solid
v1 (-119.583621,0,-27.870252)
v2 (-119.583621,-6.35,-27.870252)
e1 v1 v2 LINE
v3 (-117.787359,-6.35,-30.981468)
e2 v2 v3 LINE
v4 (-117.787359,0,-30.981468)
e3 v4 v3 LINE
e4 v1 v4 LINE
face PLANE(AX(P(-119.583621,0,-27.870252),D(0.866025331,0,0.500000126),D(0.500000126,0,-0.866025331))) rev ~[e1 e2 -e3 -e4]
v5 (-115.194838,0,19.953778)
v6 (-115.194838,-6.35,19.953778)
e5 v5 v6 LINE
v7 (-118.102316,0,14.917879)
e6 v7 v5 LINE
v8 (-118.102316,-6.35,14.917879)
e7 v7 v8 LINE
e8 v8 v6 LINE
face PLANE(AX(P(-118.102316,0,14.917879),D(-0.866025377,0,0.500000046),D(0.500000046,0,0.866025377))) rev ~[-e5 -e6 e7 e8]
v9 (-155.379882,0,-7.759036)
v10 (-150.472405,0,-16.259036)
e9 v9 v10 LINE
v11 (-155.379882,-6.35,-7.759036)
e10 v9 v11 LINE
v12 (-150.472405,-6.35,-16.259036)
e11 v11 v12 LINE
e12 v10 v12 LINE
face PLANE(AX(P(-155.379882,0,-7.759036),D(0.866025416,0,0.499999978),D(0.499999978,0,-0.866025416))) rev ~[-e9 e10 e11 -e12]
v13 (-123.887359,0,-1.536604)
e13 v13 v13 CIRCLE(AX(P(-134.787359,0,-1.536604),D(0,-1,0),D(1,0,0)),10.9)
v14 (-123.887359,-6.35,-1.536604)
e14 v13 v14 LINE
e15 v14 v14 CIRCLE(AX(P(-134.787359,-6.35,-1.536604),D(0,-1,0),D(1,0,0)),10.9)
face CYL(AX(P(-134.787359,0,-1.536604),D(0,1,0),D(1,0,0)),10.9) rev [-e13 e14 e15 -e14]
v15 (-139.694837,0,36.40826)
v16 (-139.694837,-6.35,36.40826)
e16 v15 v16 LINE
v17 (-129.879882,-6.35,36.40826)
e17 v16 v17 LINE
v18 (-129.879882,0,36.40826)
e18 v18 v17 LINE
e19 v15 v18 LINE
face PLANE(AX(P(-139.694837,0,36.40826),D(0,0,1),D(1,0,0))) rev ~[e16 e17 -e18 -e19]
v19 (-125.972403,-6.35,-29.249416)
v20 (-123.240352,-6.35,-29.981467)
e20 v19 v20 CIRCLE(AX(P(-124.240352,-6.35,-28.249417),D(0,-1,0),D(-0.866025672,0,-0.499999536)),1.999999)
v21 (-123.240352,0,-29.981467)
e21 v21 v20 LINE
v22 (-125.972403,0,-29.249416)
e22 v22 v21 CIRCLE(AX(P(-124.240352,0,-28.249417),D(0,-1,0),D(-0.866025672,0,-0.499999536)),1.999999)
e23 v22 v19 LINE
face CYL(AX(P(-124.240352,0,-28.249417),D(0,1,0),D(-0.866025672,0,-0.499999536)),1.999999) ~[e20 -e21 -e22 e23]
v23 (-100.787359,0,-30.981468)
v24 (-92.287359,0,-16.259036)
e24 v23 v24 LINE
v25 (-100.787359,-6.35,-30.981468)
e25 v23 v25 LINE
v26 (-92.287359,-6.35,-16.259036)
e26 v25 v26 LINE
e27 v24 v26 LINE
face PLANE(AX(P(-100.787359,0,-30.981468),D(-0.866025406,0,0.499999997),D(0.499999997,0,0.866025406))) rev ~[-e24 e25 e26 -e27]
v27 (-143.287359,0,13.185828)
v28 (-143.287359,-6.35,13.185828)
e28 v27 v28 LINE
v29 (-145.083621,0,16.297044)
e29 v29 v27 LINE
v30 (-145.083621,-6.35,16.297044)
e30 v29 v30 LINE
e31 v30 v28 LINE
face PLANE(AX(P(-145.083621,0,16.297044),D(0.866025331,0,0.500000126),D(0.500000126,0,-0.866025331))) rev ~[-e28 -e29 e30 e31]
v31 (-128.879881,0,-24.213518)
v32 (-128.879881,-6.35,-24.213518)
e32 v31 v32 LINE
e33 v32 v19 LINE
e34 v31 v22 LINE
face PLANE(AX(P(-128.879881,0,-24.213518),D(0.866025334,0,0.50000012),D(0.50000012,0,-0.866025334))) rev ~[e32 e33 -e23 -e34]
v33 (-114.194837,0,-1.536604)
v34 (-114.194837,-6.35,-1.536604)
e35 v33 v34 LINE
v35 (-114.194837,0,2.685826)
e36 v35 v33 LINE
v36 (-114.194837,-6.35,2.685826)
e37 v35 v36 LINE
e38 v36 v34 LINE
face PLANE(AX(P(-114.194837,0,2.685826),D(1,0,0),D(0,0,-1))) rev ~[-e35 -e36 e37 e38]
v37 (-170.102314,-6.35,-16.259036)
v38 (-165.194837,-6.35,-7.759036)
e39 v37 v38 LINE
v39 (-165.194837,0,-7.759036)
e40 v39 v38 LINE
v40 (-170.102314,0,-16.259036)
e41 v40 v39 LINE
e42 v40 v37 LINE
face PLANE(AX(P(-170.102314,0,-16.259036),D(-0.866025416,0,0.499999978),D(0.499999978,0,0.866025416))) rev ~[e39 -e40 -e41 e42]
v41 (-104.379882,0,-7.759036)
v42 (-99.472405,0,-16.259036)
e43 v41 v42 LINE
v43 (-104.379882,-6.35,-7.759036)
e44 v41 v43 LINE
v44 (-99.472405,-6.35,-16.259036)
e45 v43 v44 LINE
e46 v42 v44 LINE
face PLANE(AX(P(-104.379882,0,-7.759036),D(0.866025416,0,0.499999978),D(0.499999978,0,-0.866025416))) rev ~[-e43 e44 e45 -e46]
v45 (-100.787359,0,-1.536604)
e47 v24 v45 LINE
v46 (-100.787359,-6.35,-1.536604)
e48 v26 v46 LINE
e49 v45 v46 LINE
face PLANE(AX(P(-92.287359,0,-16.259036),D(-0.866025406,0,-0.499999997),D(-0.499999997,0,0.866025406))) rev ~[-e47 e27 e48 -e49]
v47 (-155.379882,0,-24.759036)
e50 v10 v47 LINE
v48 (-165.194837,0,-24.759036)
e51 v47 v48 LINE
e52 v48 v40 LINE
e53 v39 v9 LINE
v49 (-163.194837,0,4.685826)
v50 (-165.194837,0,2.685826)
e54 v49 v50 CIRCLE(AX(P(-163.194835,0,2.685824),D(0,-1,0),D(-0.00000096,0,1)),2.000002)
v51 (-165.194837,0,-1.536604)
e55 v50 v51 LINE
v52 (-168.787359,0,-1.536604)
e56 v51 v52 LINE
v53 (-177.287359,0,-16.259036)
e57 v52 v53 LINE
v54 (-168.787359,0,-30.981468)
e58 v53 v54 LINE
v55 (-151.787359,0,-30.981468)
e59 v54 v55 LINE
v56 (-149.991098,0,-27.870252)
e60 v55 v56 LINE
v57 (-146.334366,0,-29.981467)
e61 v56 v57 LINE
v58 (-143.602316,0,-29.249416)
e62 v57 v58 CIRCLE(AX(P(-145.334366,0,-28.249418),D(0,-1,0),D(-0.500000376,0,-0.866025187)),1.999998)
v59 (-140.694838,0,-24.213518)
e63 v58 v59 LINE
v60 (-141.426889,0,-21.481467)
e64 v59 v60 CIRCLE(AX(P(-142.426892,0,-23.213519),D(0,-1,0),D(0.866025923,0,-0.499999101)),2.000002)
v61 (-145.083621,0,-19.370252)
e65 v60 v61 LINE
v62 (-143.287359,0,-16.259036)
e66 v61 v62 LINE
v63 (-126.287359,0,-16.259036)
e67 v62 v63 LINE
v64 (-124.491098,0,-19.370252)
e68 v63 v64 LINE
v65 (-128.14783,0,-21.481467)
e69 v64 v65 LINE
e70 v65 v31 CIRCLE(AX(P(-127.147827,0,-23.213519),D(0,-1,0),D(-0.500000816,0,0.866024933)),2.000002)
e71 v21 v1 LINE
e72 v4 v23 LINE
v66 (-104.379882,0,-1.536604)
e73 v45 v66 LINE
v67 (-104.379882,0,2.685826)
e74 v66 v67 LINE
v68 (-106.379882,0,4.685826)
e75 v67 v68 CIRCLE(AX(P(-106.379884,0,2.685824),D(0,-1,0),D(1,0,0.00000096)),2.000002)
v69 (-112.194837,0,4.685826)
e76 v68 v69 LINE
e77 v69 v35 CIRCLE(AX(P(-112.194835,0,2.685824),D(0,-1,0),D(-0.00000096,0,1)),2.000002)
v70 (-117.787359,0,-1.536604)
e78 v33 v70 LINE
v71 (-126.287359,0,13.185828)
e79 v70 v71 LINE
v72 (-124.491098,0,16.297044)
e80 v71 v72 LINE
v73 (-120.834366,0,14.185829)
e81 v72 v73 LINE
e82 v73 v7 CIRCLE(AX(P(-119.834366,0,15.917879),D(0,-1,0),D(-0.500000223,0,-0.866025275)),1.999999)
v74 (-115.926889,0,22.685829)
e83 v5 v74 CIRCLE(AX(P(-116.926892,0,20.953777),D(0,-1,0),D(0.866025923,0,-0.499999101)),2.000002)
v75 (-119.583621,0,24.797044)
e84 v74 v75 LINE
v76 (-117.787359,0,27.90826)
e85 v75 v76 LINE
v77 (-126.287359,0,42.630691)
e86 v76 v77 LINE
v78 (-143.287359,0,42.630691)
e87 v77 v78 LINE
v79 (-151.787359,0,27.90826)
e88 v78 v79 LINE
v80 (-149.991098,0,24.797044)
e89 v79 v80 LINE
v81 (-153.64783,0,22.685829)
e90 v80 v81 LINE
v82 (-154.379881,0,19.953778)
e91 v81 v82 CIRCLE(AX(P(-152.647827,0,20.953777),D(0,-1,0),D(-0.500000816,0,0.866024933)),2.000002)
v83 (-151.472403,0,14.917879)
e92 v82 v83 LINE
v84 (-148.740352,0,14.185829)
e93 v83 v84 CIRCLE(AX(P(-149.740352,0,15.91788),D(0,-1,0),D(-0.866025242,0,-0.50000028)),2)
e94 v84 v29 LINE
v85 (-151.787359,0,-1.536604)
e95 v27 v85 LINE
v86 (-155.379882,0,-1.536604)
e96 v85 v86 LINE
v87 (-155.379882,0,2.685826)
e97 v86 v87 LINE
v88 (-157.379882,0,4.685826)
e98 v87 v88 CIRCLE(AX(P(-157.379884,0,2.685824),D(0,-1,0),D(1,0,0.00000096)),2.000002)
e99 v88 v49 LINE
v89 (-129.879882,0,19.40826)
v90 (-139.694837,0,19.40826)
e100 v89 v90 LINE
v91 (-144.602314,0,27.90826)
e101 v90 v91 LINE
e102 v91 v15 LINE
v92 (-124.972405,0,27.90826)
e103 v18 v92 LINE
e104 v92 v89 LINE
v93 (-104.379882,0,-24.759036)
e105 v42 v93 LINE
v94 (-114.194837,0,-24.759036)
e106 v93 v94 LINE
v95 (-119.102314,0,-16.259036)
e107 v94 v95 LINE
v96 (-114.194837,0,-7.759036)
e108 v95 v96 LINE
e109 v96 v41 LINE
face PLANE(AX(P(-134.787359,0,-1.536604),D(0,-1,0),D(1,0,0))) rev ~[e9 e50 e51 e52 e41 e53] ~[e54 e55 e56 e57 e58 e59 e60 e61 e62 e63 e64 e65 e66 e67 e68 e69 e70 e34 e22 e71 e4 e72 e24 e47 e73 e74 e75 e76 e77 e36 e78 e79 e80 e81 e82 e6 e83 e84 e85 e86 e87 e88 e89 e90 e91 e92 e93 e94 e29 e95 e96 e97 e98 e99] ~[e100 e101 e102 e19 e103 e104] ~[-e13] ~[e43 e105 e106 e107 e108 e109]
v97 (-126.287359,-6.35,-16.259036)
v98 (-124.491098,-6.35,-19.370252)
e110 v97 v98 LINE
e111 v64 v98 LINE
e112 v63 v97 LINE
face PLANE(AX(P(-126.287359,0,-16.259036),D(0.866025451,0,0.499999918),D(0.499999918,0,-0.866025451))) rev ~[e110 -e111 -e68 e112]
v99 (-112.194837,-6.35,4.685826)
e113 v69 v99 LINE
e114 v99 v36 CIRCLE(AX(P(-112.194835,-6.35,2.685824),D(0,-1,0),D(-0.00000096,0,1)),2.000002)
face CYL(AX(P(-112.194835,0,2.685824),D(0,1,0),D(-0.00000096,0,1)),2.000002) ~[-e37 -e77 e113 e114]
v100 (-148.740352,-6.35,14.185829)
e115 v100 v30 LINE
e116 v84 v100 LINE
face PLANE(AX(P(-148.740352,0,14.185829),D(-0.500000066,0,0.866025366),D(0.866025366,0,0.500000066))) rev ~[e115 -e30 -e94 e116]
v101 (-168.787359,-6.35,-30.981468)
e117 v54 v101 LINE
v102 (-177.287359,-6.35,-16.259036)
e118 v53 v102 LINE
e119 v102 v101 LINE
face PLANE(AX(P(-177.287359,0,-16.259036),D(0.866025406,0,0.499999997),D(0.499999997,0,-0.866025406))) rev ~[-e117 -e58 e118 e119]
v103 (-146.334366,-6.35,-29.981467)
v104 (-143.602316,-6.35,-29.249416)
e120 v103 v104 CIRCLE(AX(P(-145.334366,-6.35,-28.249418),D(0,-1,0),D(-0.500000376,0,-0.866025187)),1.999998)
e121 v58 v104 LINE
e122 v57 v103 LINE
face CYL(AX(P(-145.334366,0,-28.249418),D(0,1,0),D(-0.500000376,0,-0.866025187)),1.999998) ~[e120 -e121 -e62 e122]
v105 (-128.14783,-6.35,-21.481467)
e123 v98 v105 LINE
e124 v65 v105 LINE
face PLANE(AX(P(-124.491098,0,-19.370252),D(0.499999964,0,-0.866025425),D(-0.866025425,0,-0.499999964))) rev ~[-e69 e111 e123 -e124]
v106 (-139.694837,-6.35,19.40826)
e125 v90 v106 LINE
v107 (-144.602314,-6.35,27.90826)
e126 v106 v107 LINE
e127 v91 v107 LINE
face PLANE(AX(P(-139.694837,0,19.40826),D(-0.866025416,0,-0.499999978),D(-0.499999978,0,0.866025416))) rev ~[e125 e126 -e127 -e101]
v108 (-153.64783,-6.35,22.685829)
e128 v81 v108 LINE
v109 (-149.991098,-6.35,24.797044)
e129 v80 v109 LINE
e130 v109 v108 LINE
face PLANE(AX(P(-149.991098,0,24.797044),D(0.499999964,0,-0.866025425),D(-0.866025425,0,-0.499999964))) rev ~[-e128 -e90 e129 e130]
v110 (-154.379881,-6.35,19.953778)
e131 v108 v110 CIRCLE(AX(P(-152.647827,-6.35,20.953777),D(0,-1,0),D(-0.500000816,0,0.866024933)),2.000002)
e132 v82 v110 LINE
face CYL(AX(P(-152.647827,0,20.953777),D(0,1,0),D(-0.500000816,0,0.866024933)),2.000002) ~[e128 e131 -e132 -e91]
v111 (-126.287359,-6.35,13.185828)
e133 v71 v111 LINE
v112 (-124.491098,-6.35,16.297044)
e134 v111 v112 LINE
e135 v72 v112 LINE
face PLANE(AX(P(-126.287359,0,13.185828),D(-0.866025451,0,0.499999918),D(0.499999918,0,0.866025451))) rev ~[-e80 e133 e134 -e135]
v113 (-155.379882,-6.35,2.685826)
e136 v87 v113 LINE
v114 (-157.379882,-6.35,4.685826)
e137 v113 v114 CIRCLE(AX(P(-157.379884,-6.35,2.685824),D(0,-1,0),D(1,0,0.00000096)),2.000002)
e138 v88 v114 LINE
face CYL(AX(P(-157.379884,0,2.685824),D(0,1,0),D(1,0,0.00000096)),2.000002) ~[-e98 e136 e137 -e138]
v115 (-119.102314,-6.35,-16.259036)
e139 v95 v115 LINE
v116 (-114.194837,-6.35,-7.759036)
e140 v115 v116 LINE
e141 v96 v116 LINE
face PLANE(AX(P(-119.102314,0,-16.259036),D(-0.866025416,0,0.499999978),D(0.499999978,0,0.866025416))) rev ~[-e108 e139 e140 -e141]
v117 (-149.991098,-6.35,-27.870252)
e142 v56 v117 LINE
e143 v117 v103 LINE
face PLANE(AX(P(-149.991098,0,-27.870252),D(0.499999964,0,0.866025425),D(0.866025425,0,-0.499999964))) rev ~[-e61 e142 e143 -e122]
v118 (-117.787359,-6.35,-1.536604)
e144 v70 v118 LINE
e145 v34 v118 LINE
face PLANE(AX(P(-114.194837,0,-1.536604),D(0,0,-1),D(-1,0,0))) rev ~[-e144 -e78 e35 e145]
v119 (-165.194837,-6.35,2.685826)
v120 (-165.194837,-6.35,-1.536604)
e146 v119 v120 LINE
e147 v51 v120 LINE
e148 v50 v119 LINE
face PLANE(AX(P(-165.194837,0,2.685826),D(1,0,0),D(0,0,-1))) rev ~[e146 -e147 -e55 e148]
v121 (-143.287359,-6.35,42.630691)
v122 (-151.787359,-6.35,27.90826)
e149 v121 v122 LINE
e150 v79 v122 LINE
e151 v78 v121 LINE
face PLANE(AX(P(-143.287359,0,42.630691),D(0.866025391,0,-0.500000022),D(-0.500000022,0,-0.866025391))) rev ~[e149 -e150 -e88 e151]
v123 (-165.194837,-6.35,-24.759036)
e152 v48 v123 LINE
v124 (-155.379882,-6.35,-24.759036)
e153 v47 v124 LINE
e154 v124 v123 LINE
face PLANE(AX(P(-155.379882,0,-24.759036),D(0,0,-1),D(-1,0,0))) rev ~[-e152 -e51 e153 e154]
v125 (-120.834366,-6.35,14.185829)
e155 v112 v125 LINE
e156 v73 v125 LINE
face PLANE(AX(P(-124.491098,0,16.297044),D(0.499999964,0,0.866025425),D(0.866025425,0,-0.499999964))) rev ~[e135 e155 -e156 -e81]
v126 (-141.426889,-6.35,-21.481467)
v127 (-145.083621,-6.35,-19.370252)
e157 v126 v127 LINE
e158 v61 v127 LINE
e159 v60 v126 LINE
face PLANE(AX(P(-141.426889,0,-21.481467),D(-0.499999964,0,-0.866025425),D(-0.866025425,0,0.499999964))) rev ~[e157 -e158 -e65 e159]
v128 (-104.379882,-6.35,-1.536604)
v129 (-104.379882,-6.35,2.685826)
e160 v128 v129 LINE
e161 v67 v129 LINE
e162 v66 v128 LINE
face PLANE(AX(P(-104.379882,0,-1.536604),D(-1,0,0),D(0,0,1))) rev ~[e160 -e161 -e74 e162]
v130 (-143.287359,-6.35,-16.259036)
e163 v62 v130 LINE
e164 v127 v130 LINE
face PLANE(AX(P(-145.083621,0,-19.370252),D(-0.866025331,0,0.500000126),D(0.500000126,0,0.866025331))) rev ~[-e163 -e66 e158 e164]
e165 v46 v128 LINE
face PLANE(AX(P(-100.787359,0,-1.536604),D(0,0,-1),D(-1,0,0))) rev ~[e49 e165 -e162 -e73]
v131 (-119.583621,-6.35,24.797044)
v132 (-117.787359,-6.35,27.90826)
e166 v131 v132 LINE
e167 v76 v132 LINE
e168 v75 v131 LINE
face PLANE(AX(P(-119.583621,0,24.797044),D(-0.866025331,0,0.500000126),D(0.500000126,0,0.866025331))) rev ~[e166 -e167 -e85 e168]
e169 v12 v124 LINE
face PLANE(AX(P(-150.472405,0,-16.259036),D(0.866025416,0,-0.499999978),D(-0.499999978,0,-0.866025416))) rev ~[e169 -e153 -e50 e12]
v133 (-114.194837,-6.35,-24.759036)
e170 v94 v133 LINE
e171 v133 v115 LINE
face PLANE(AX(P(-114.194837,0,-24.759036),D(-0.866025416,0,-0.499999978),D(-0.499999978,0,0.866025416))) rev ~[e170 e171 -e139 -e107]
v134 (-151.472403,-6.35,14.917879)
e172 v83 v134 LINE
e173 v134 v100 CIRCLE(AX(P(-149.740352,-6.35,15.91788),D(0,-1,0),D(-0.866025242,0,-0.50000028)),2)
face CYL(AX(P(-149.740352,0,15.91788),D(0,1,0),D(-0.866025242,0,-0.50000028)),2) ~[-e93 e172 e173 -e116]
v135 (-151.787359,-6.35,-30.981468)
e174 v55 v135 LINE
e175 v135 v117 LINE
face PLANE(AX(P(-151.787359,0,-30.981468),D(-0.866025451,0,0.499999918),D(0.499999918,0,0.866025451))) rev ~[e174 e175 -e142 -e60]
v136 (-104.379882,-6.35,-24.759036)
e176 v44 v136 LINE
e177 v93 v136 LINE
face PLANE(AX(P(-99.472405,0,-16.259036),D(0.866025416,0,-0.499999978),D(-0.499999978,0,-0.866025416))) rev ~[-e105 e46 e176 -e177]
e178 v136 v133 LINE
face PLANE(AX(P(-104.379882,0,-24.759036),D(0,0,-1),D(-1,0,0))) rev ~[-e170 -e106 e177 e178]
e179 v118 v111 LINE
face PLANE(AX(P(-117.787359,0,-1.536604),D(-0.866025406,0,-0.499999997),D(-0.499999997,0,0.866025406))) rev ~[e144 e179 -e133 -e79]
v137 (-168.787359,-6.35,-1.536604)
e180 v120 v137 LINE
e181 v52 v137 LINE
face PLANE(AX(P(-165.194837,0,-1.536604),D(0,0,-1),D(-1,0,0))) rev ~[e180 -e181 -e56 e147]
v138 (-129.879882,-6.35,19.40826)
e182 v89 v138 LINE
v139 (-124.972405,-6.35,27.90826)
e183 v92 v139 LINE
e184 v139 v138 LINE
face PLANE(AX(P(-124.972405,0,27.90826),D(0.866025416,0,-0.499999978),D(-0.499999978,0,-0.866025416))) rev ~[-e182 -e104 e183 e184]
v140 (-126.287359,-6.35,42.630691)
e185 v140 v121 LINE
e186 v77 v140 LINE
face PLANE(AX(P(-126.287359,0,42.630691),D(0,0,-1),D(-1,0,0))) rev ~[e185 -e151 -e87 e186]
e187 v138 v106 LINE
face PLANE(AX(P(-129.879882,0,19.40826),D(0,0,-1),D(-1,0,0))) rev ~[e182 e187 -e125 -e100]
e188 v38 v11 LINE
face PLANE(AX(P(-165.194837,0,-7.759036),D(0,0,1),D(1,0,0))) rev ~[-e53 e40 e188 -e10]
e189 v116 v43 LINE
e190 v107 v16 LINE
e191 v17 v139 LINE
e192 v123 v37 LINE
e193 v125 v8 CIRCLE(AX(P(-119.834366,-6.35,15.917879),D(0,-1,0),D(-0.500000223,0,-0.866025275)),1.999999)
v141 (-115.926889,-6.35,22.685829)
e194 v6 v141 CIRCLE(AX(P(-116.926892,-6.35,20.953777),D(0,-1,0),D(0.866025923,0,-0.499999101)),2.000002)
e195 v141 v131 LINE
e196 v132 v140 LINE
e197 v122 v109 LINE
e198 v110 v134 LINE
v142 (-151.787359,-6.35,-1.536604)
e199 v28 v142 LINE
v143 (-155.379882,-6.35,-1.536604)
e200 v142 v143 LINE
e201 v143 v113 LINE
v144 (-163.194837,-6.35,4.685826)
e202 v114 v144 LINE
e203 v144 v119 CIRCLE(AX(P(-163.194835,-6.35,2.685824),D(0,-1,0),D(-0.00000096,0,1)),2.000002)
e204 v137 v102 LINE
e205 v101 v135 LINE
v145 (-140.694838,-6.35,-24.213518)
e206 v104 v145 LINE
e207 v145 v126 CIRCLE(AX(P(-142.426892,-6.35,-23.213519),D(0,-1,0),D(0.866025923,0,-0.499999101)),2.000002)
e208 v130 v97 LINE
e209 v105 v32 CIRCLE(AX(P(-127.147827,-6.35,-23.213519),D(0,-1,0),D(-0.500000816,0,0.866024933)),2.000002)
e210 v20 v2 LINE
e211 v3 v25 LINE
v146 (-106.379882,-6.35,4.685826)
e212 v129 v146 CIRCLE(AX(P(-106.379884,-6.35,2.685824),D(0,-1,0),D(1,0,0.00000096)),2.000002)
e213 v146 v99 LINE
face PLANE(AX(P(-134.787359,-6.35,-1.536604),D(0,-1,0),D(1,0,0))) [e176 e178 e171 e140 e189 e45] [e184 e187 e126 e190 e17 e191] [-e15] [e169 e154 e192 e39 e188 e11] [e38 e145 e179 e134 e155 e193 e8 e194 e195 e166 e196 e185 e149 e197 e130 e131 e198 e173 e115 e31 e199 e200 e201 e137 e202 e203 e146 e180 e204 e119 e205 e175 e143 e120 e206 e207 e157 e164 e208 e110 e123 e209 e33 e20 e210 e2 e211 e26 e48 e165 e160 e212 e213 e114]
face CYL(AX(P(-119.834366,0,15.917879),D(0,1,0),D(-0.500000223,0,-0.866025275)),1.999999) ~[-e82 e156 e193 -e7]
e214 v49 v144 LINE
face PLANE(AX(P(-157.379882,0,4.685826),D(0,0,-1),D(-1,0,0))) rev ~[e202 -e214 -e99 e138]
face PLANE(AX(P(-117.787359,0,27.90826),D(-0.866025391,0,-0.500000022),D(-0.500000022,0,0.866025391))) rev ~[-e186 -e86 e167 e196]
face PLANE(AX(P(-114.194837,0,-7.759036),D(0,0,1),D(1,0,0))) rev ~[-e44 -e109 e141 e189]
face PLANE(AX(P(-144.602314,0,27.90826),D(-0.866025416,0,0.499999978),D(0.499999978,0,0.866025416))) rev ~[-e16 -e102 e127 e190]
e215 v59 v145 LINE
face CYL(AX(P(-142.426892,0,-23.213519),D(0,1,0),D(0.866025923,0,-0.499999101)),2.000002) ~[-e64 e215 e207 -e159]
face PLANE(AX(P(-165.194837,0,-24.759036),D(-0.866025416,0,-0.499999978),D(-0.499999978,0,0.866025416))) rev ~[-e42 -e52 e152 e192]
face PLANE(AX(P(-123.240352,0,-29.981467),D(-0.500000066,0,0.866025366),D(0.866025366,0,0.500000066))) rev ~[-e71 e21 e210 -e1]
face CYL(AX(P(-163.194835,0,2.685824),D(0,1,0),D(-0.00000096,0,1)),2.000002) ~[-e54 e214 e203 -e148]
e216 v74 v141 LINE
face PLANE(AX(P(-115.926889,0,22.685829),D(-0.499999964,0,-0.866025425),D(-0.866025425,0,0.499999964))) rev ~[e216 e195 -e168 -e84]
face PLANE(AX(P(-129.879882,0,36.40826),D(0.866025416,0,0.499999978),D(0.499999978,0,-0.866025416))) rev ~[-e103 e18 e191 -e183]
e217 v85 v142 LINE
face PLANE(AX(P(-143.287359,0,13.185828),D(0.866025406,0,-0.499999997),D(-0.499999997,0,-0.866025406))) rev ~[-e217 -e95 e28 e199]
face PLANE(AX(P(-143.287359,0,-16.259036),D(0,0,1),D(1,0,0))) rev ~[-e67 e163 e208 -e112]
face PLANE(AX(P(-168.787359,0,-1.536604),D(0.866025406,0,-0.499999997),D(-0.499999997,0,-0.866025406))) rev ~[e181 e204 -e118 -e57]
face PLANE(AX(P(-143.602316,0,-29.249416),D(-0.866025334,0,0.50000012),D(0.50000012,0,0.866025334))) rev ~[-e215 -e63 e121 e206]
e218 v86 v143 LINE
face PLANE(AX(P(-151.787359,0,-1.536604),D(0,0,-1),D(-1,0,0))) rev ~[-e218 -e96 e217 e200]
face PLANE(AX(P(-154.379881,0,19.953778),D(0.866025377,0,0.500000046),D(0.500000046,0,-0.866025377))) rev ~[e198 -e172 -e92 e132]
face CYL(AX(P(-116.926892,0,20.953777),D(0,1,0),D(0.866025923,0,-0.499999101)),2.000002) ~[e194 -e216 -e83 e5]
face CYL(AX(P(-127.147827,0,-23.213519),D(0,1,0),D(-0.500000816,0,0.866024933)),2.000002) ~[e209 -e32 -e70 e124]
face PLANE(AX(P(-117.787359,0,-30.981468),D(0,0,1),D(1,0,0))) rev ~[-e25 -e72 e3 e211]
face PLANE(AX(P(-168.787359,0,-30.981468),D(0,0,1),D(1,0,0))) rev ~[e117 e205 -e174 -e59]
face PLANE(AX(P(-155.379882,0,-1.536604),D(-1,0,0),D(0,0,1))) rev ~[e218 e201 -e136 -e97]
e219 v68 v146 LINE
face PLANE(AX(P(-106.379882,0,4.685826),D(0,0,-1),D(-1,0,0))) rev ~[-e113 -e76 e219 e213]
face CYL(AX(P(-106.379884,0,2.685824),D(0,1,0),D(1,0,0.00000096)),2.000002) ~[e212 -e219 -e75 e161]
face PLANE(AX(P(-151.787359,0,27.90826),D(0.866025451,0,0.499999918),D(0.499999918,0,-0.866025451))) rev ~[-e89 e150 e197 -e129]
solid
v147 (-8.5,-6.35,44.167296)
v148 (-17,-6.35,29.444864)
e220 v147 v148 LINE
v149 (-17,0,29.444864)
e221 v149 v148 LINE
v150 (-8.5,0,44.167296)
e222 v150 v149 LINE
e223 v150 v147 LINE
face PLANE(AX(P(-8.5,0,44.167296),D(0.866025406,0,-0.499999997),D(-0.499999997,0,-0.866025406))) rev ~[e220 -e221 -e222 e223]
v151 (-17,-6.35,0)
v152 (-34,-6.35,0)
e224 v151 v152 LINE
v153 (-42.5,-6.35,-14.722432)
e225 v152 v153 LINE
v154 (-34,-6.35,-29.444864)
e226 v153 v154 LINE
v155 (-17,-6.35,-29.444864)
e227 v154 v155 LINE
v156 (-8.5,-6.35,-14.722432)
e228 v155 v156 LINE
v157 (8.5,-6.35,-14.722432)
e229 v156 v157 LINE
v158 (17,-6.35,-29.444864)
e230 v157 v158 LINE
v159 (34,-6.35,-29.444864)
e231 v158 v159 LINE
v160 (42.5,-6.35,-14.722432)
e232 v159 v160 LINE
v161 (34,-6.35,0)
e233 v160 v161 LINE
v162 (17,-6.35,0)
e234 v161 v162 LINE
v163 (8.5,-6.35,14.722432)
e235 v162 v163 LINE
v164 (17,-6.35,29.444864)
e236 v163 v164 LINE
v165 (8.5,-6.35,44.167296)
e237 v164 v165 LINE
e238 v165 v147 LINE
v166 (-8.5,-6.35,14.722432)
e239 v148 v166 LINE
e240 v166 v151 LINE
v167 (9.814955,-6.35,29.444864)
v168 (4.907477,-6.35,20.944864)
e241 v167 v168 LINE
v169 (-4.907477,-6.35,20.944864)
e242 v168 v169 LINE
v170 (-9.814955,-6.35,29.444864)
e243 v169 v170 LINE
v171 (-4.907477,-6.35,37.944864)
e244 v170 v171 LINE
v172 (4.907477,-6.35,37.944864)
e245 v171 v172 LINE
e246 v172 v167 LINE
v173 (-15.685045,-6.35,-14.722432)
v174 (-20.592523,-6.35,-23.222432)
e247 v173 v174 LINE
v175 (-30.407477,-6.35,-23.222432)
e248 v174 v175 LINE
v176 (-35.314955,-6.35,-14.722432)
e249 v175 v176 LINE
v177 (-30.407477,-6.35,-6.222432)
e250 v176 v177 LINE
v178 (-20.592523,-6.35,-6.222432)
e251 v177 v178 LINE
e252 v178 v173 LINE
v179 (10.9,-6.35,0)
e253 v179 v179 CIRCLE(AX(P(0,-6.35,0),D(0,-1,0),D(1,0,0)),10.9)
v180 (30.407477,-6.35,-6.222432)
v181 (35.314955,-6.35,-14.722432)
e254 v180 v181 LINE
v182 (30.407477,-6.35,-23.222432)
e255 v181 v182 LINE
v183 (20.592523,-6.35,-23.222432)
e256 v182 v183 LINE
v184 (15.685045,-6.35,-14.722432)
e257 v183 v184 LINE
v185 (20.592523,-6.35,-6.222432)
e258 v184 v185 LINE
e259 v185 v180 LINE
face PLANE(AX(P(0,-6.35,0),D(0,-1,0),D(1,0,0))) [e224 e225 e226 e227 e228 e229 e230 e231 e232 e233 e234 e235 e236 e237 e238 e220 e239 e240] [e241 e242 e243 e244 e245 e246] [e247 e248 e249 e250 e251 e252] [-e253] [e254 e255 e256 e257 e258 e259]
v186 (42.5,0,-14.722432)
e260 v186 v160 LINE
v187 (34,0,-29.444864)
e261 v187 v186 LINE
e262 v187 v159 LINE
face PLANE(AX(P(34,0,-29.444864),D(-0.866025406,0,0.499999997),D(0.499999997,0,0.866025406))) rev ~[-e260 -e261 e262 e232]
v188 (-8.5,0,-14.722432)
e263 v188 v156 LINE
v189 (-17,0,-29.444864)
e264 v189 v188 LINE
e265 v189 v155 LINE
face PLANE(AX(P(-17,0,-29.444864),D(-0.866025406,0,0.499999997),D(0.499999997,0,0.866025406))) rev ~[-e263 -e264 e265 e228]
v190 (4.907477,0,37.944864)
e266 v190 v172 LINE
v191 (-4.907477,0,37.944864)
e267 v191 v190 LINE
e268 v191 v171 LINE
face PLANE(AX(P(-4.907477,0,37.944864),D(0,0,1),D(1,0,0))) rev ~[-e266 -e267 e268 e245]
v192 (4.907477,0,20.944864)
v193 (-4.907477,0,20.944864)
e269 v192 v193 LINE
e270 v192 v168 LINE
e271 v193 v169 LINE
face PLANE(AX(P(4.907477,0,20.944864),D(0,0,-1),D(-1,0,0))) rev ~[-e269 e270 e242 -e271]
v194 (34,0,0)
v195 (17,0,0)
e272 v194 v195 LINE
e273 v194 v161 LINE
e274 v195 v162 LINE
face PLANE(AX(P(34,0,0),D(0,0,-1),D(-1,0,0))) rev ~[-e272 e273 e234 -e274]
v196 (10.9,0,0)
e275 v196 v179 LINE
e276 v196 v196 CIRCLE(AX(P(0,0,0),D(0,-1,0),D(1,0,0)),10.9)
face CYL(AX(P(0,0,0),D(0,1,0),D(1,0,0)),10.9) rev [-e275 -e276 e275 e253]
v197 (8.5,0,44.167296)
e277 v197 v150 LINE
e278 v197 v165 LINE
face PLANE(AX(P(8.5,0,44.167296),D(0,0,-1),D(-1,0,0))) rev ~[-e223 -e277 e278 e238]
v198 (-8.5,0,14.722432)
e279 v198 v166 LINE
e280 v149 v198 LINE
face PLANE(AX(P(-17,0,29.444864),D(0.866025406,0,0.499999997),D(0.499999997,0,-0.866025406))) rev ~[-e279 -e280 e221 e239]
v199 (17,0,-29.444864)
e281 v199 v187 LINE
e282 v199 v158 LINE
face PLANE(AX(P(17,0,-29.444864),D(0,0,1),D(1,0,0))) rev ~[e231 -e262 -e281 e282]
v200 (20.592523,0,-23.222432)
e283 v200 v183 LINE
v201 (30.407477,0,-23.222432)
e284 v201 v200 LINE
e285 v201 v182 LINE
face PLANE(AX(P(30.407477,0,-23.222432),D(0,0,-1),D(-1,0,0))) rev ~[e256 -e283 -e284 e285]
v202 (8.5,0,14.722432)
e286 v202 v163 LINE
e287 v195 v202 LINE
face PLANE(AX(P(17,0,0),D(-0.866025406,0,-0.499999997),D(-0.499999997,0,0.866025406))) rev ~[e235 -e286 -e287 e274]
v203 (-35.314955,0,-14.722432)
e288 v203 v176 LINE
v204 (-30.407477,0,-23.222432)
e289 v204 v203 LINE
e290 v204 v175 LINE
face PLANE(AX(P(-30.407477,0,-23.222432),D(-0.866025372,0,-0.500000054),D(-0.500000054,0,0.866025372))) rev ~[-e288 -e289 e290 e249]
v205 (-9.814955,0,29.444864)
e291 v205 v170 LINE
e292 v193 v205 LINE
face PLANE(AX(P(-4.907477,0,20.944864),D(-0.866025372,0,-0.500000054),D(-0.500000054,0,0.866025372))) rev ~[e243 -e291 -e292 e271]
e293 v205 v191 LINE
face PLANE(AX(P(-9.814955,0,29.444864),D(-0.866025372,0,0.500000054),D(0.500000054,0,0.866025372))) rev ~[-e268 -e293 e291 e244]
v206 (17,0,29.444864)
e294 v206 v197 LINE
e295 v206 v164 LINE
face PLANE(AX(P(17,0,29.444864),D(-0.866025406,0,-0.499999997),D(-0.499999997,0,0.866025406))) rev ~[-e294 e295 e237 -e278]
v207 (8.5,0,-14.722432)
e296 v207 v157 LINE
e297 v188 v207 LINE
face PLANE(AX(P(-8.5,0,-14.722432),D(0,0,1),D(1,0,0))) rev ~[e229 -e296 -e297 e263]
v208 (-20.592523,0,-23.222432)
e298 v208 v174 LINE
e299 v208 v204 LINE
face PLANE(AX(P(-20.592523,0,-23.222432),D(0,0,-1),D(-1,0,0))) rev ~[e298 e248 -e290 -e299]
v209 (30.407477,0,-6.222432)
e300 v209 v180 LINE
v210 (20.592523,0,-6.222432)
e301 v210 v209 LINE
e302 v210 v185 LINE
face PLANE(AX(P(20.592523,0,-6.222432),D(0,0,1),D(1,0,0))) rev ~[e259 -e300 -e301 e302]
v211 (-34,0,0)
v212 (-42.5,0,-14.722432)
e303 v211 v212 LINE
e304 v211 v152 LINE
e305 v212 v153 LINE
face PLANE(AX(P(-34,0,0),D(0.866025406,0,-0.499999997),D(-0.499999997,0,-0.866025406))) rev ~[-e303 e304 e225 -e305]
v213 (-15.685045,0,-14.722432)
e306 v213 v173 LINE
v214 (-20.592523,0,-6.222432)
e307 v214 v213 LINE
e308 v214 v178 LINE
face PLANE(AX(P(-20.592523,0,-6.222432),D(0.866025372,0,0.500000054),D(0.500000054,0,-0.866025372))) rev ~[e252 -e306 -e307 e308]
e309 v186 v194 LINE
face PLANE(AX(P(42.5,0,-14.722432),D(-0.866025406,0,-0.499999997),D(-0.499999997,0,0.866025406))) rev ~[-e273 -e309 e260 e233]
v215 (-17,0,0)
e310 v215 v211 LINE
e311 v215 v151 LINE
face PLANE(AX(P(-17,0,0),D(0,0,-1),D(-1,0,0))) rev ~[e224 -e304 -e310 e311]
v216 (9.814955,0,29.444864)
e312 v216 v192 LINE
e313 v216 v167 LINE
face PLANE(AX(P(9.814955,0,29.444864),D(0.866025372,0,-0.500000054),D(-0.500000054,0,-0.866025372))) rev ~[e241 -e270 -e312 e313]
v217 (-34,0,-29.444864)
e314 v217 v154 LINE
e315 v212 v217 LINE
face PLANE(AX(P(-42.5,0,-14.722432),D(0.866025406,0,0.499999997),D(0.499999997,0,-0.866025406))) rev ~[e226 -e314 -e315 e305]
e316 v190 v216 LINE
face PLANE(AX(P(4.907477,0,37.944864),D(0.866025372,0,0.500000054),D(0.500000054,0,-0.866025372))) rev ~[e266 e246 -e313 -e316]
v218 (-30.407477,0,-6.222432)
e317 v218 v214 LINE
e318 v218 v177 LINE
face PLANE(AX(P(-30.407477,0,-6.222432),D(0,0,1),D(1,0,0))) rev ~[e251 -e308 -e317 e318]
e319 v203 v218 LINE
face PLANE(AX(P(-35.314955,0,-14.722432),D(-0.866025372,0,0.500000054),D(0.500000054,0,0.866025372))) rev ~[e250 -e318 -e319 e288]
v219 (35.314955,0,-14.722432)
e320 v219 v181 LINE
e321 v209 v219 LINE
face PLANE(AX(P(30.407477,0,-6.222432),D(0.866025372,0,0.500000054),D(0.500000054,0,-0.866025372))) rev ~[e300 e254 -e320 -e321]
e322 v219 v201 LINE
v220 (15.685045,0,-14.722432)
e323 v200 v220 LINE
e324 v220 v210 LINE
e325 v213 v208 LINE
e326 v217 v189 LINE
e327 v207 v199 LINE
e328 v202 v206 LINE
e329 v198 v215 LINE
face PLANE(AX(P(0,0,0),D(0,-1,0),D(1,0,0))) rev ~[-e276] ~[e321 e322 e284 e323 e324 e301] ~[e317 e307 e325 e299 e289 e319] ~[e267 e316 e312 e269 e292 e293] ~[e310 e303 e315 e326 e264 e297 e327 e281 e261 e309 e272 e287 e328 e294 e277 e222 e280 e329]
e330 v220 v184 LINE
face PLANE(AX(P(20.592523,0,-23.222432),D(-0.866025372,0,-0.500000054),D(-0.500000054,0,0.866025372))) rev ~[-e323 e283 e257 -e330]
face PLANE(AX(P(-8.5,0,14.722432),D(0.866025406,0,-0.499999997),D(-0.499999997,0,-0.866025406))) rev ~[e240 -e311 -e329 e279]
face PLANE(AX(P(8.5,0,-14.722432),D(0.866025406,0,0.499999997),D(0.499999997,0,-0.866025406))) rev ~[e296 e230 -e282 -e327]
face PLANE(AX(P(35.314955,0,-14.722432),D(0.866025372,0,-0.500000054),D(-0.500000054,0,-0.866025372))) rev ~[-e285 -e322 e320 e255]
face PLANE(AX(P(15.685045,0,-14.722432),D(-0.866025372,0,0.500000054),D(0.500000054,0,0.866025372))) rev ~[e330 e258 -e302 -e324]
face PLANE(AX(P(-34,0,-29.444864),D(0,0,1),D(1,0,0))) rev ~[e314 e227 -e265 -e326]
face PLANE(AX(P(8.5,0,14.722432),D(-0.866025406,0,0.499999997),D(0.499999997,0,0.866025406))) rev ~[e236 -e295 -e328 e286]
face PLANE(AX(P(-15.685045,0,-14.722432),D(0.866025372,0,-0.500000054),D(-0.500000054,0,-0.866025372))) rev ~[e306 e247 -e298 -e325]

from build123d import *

# Parameters (mm, degrees)
F0_R     = 10.9
F1_DEPTH = 6.35
F2_DEPTH = 6.35


with BuildPart() as f1:
    # F0 (on Front) → F1 (new body)
    with BuildSketch(Plane.XZ):
        Polygon((17, 0), (8.5, 14.722432), (17, 29.444864), (8.5, 44.167296), (-8.5, 44.167296), (-17, 29.444864), (-8.5, 14.722432), (-17, 0), (-34, 0), (-42.5, -14.722432), (-34, -29.444864), (-17, -29.444864), (-8.5, -14.722432), (8.5, -14.722432), (17, -29.444864), (34, -29.444864), (42.5, -14.722432), (34, 0), align=None)
        Polygon((-15.685045, -14.722432), (-20.592523, -23.222432), (-30.407477, -23.222432), (-35.314955, -14.722432), (-30.407477, -6.222432), (-20.592523, -6.222432), align=None, mode=Mode.SUBTRACT)
        Polygon((15.685045, -14.722432), (20.592523, -6.222432), (30.407477, -6.222432), (35.314955, -14.722432), (30.407477, -23.222432), (20.592523, -23.222432), align=None, mode=Mode.SUBTRACT)
        Circle(F0_R, mode=Mode.SUBTRACT)
        Polygon((4.907477, 20.944864), (-4.907477, 20.944864), (-9.814955, 29.444864), (-4.907477, 37.944864), (4.907477, 37.944864), (9.814955, 29.444864), align=None, mode=Mode.SUBTRACT)
    extrude(amount=F1_DEPTH)

    # F0 (on Front) → F2 (join)
    with BuildSketch(Plane.XZ):
        Polygon((17, 0), (8.5, 14.722432), (17, 29.444864), (8.5, 44.167296), (-8.5, 44.167296), (-17, 29.444864), (-8.5, 14.722432), (-17, 0), (-34, 0), (-42.5, -14.722432), (-34, -29.444864), (-17, -29.444864), (-8.5, -14.722432), (8.5, -14.722432), (17, -29.444864), (34, -29.444864), (42.5, -14.722432), (34, 0), align=None)
        Polygon((-15.685045, -14.722432), (-20.592523, -23.222432), (-30.407477, -23.222432), (-35.314955, -14.722432), (-30.407477, -6.222432), (-20.592523, -6.222432), align=None, mode=Mode.SUBTRACT)
        Polygon((15.685045, -14.722432), (20.592523, -6.222432), (30.407477, -6.222432), (35.314955, -14.722432), (30.407477, -23.222432), (20.592523, -23.222432), align=None, mode=Mode.SUBTRACT)
        Circle(F0_R, mode=Mode.SUBTRACT)
        Polygon((4.907477, 20.944864), (-4.907477, 20.944864), (-9.814955, 29.444864), (-4.907477, 37.944864), (4.907477, 37.944864), (9.814955, 29.444864), align=None, mode=Mode.SUBTRACT)
        with BuildLine():
            Line((-117.787359, -1.536604), (-126.287359, 13.185828))
            Line((-126.287359, 13.185828), (-124.491098, 16.297044))
            Line((-124.491098, 16.297044), (-120.834366, 14.185829))
            ThreePointArc((-120.834366, 14.185829), (-119.316728, 13.986028), (-118.102316, 14.917879))
            Line((-118.102316, 14.917879), (-115.194838, 19.953778))
            ThreePointArc((-115.194838, 19.953778), (-114.995038, 21.471416), (-115.926889, 22.685829))
            Line((-115.926889, 22.685829), (-119.583621, 24.797044))
            Line((-119.583621, 24.797044), (-117.787359, 27.90826))
            Line((-117.787359, 27.90826), (-126.287359, 42.630691))
            Line((-126.287359, 42.630691), (-143.287359, 42.630691))
            Line((-143.287359, 42.630691), (-151.787359, 27.90826))
            Line((-151.787359, 27.90826), (-149.991098, 24.797044))
            Line((-149.991098, 24.797044), (-153.64783, 22.685829))
            ThreePointArc((-153.64783, 22.685829), (-154.579681, 21.471416), (-154.379881, 19.953778))
            Line((-154.379881, 19.953778), (-151.472403, 14.917879))
            ThreePointArc((-151.472403, 14.917879), (-150.257991, 13.986028), (-148.740352, 14.185829))
            Line((-148.740352, 14.185829), (-145.083621, 16.297044))
            Line((-145.083621, 16.297044), (-143.287359, 13.185828))
            Line((-143.287359, 13.185828), (-151.787359, -1.536604))
            Line((-151.787359, -1.536604), (-155.379882, -1.536604))
            Line((-155.379882, -1.536604), (-155.379882, 2.685826))
            ThreePointArc((-155.379882, 2.685826), (-155.965669, 4.100039), (-157.379882, 4.685826))
            Line((-157.379882, 4.685826), (-163.194837, 4.685826))
            ThreePointArc((-163.194837, 4.685826), (-164.60905, 4.100039), (-165.194837, 2.685826))
            Line((-165.194837, 2.685826), (-165.194837, -1.536604))
            Line((-165.194837, -1.536604), (-168.787359, -1.536604))
            Line((-168.787359, -1.536604), (-177.287359, -16.259036))
            Line((-177.287359, -16.259036), (-168.787359, -30.981468))
            Line((-168.787359, -30.981468), (-151.787359, -30.981468))
            Line((-151.787359, -30.981468), (-149.991098, -27.870252))
            Line((-149.991098, -27.870252), (-146.334366, -29.981467))
            ThreePointArc((-146.334366, -29.981467), (-144.816728, -30.181268), (-143.602316, -29.249416))
            Line((-143.602316, -29.249416), (-140.694838, -24.213518))
            ThreePointArc((-140.694838, -24.213518), (-140.495038, -22.69588), (-141.426889, -21.481467))
            Line((-141.426889, -21.481467), (-145.083621, -19.370252))
            Line((-145.083621, -19.370252), (-143.287359, -16.259036))
            Line((-143.287359, -16.259036), (-126.287359, -16.259036))
            Line((-126.287359, -16.259036), (-124.491098, -19.370252))
            Line((-124.491098, -19.370252), (-128.14783, -21.481467))
            ThreePointArc((-128.14783, -21.481467), (-129.079681, -22.69588), (-128.879881, -24.213518))
            Line((-128.879881, -24.213518), (-125.972403, -29.249416))
            ThreePointArc((-125.972403, -29.249416), (-124.757991, -30.181268), (-123.240352, -29.981467))
            Line((-123.240352, -29.981467), (-119.583621, -27.870252))
            Line((-119.583621, -27.870252), (-117.787359, -30.981468))
            Line((-117.787359, -30.981468), (-100.787359, -30.981468))
            Line((-100.787359, -30.981468), (-92.287359, -16.259036))
            Line((-92.287359, -16.259036), (-100.787359, -1.536604))
            Line((-100.787359, -1.536604), (-104.379882, -1.536604))
            Line((-104.379882, -1.536604), (-104.379882, 2.685826))
            ThreePointArc((-104.379882, 2.685826), (-104.965669, 4.100039), (-106.379882, 4.685826))
            Line((-106.379882, 4.685826), (-112.194837, 4.685826))
            ThreePointArc((-112.194837, 4.685826), (-113.60905, 4.100039), (-114.194837, 2.685826))
            Line((-114.194837, 2.685826), (-114.194837, -1.536604))
            Line((-114.194837, -1.536604), (-117.787359, -1.536604))
        make_face()
        Polygon((-150.472405, -16.259036), (-155.379882, -24.759036), (-165.194837, -24.759036), (-170.102314, -16.259036), (-165.194837, -7.759036), (-155.379882, -7.759036), align=None, mode=Mode.SUBTRACT)
        Polygon((-119.102314, -16.259036), (-114.194837, -7.759036), (-104.379882, -7.759036), (-99.472405, -16.259036), (-104.379882, -24.759036), (-114.194837, -24.759036), align=None, mode=Mode.SUBTRACT)
        with Locations((-134.787359, -1.536604)):
            Circle(F0_R, mode=Mode.SUBTRACT)
        Polygon((-129.879882, 19.40826), (-139.694837, 19.40826), (-144.602314, 27.90826), (-139.694837, 36.40826), (-129.879882, 36.40826), (-124.972405, 27.90826), align=None, mode=Mode.SUBTRACT)
    extrude(amount=F2_DEPTH)


solid = f1.part
